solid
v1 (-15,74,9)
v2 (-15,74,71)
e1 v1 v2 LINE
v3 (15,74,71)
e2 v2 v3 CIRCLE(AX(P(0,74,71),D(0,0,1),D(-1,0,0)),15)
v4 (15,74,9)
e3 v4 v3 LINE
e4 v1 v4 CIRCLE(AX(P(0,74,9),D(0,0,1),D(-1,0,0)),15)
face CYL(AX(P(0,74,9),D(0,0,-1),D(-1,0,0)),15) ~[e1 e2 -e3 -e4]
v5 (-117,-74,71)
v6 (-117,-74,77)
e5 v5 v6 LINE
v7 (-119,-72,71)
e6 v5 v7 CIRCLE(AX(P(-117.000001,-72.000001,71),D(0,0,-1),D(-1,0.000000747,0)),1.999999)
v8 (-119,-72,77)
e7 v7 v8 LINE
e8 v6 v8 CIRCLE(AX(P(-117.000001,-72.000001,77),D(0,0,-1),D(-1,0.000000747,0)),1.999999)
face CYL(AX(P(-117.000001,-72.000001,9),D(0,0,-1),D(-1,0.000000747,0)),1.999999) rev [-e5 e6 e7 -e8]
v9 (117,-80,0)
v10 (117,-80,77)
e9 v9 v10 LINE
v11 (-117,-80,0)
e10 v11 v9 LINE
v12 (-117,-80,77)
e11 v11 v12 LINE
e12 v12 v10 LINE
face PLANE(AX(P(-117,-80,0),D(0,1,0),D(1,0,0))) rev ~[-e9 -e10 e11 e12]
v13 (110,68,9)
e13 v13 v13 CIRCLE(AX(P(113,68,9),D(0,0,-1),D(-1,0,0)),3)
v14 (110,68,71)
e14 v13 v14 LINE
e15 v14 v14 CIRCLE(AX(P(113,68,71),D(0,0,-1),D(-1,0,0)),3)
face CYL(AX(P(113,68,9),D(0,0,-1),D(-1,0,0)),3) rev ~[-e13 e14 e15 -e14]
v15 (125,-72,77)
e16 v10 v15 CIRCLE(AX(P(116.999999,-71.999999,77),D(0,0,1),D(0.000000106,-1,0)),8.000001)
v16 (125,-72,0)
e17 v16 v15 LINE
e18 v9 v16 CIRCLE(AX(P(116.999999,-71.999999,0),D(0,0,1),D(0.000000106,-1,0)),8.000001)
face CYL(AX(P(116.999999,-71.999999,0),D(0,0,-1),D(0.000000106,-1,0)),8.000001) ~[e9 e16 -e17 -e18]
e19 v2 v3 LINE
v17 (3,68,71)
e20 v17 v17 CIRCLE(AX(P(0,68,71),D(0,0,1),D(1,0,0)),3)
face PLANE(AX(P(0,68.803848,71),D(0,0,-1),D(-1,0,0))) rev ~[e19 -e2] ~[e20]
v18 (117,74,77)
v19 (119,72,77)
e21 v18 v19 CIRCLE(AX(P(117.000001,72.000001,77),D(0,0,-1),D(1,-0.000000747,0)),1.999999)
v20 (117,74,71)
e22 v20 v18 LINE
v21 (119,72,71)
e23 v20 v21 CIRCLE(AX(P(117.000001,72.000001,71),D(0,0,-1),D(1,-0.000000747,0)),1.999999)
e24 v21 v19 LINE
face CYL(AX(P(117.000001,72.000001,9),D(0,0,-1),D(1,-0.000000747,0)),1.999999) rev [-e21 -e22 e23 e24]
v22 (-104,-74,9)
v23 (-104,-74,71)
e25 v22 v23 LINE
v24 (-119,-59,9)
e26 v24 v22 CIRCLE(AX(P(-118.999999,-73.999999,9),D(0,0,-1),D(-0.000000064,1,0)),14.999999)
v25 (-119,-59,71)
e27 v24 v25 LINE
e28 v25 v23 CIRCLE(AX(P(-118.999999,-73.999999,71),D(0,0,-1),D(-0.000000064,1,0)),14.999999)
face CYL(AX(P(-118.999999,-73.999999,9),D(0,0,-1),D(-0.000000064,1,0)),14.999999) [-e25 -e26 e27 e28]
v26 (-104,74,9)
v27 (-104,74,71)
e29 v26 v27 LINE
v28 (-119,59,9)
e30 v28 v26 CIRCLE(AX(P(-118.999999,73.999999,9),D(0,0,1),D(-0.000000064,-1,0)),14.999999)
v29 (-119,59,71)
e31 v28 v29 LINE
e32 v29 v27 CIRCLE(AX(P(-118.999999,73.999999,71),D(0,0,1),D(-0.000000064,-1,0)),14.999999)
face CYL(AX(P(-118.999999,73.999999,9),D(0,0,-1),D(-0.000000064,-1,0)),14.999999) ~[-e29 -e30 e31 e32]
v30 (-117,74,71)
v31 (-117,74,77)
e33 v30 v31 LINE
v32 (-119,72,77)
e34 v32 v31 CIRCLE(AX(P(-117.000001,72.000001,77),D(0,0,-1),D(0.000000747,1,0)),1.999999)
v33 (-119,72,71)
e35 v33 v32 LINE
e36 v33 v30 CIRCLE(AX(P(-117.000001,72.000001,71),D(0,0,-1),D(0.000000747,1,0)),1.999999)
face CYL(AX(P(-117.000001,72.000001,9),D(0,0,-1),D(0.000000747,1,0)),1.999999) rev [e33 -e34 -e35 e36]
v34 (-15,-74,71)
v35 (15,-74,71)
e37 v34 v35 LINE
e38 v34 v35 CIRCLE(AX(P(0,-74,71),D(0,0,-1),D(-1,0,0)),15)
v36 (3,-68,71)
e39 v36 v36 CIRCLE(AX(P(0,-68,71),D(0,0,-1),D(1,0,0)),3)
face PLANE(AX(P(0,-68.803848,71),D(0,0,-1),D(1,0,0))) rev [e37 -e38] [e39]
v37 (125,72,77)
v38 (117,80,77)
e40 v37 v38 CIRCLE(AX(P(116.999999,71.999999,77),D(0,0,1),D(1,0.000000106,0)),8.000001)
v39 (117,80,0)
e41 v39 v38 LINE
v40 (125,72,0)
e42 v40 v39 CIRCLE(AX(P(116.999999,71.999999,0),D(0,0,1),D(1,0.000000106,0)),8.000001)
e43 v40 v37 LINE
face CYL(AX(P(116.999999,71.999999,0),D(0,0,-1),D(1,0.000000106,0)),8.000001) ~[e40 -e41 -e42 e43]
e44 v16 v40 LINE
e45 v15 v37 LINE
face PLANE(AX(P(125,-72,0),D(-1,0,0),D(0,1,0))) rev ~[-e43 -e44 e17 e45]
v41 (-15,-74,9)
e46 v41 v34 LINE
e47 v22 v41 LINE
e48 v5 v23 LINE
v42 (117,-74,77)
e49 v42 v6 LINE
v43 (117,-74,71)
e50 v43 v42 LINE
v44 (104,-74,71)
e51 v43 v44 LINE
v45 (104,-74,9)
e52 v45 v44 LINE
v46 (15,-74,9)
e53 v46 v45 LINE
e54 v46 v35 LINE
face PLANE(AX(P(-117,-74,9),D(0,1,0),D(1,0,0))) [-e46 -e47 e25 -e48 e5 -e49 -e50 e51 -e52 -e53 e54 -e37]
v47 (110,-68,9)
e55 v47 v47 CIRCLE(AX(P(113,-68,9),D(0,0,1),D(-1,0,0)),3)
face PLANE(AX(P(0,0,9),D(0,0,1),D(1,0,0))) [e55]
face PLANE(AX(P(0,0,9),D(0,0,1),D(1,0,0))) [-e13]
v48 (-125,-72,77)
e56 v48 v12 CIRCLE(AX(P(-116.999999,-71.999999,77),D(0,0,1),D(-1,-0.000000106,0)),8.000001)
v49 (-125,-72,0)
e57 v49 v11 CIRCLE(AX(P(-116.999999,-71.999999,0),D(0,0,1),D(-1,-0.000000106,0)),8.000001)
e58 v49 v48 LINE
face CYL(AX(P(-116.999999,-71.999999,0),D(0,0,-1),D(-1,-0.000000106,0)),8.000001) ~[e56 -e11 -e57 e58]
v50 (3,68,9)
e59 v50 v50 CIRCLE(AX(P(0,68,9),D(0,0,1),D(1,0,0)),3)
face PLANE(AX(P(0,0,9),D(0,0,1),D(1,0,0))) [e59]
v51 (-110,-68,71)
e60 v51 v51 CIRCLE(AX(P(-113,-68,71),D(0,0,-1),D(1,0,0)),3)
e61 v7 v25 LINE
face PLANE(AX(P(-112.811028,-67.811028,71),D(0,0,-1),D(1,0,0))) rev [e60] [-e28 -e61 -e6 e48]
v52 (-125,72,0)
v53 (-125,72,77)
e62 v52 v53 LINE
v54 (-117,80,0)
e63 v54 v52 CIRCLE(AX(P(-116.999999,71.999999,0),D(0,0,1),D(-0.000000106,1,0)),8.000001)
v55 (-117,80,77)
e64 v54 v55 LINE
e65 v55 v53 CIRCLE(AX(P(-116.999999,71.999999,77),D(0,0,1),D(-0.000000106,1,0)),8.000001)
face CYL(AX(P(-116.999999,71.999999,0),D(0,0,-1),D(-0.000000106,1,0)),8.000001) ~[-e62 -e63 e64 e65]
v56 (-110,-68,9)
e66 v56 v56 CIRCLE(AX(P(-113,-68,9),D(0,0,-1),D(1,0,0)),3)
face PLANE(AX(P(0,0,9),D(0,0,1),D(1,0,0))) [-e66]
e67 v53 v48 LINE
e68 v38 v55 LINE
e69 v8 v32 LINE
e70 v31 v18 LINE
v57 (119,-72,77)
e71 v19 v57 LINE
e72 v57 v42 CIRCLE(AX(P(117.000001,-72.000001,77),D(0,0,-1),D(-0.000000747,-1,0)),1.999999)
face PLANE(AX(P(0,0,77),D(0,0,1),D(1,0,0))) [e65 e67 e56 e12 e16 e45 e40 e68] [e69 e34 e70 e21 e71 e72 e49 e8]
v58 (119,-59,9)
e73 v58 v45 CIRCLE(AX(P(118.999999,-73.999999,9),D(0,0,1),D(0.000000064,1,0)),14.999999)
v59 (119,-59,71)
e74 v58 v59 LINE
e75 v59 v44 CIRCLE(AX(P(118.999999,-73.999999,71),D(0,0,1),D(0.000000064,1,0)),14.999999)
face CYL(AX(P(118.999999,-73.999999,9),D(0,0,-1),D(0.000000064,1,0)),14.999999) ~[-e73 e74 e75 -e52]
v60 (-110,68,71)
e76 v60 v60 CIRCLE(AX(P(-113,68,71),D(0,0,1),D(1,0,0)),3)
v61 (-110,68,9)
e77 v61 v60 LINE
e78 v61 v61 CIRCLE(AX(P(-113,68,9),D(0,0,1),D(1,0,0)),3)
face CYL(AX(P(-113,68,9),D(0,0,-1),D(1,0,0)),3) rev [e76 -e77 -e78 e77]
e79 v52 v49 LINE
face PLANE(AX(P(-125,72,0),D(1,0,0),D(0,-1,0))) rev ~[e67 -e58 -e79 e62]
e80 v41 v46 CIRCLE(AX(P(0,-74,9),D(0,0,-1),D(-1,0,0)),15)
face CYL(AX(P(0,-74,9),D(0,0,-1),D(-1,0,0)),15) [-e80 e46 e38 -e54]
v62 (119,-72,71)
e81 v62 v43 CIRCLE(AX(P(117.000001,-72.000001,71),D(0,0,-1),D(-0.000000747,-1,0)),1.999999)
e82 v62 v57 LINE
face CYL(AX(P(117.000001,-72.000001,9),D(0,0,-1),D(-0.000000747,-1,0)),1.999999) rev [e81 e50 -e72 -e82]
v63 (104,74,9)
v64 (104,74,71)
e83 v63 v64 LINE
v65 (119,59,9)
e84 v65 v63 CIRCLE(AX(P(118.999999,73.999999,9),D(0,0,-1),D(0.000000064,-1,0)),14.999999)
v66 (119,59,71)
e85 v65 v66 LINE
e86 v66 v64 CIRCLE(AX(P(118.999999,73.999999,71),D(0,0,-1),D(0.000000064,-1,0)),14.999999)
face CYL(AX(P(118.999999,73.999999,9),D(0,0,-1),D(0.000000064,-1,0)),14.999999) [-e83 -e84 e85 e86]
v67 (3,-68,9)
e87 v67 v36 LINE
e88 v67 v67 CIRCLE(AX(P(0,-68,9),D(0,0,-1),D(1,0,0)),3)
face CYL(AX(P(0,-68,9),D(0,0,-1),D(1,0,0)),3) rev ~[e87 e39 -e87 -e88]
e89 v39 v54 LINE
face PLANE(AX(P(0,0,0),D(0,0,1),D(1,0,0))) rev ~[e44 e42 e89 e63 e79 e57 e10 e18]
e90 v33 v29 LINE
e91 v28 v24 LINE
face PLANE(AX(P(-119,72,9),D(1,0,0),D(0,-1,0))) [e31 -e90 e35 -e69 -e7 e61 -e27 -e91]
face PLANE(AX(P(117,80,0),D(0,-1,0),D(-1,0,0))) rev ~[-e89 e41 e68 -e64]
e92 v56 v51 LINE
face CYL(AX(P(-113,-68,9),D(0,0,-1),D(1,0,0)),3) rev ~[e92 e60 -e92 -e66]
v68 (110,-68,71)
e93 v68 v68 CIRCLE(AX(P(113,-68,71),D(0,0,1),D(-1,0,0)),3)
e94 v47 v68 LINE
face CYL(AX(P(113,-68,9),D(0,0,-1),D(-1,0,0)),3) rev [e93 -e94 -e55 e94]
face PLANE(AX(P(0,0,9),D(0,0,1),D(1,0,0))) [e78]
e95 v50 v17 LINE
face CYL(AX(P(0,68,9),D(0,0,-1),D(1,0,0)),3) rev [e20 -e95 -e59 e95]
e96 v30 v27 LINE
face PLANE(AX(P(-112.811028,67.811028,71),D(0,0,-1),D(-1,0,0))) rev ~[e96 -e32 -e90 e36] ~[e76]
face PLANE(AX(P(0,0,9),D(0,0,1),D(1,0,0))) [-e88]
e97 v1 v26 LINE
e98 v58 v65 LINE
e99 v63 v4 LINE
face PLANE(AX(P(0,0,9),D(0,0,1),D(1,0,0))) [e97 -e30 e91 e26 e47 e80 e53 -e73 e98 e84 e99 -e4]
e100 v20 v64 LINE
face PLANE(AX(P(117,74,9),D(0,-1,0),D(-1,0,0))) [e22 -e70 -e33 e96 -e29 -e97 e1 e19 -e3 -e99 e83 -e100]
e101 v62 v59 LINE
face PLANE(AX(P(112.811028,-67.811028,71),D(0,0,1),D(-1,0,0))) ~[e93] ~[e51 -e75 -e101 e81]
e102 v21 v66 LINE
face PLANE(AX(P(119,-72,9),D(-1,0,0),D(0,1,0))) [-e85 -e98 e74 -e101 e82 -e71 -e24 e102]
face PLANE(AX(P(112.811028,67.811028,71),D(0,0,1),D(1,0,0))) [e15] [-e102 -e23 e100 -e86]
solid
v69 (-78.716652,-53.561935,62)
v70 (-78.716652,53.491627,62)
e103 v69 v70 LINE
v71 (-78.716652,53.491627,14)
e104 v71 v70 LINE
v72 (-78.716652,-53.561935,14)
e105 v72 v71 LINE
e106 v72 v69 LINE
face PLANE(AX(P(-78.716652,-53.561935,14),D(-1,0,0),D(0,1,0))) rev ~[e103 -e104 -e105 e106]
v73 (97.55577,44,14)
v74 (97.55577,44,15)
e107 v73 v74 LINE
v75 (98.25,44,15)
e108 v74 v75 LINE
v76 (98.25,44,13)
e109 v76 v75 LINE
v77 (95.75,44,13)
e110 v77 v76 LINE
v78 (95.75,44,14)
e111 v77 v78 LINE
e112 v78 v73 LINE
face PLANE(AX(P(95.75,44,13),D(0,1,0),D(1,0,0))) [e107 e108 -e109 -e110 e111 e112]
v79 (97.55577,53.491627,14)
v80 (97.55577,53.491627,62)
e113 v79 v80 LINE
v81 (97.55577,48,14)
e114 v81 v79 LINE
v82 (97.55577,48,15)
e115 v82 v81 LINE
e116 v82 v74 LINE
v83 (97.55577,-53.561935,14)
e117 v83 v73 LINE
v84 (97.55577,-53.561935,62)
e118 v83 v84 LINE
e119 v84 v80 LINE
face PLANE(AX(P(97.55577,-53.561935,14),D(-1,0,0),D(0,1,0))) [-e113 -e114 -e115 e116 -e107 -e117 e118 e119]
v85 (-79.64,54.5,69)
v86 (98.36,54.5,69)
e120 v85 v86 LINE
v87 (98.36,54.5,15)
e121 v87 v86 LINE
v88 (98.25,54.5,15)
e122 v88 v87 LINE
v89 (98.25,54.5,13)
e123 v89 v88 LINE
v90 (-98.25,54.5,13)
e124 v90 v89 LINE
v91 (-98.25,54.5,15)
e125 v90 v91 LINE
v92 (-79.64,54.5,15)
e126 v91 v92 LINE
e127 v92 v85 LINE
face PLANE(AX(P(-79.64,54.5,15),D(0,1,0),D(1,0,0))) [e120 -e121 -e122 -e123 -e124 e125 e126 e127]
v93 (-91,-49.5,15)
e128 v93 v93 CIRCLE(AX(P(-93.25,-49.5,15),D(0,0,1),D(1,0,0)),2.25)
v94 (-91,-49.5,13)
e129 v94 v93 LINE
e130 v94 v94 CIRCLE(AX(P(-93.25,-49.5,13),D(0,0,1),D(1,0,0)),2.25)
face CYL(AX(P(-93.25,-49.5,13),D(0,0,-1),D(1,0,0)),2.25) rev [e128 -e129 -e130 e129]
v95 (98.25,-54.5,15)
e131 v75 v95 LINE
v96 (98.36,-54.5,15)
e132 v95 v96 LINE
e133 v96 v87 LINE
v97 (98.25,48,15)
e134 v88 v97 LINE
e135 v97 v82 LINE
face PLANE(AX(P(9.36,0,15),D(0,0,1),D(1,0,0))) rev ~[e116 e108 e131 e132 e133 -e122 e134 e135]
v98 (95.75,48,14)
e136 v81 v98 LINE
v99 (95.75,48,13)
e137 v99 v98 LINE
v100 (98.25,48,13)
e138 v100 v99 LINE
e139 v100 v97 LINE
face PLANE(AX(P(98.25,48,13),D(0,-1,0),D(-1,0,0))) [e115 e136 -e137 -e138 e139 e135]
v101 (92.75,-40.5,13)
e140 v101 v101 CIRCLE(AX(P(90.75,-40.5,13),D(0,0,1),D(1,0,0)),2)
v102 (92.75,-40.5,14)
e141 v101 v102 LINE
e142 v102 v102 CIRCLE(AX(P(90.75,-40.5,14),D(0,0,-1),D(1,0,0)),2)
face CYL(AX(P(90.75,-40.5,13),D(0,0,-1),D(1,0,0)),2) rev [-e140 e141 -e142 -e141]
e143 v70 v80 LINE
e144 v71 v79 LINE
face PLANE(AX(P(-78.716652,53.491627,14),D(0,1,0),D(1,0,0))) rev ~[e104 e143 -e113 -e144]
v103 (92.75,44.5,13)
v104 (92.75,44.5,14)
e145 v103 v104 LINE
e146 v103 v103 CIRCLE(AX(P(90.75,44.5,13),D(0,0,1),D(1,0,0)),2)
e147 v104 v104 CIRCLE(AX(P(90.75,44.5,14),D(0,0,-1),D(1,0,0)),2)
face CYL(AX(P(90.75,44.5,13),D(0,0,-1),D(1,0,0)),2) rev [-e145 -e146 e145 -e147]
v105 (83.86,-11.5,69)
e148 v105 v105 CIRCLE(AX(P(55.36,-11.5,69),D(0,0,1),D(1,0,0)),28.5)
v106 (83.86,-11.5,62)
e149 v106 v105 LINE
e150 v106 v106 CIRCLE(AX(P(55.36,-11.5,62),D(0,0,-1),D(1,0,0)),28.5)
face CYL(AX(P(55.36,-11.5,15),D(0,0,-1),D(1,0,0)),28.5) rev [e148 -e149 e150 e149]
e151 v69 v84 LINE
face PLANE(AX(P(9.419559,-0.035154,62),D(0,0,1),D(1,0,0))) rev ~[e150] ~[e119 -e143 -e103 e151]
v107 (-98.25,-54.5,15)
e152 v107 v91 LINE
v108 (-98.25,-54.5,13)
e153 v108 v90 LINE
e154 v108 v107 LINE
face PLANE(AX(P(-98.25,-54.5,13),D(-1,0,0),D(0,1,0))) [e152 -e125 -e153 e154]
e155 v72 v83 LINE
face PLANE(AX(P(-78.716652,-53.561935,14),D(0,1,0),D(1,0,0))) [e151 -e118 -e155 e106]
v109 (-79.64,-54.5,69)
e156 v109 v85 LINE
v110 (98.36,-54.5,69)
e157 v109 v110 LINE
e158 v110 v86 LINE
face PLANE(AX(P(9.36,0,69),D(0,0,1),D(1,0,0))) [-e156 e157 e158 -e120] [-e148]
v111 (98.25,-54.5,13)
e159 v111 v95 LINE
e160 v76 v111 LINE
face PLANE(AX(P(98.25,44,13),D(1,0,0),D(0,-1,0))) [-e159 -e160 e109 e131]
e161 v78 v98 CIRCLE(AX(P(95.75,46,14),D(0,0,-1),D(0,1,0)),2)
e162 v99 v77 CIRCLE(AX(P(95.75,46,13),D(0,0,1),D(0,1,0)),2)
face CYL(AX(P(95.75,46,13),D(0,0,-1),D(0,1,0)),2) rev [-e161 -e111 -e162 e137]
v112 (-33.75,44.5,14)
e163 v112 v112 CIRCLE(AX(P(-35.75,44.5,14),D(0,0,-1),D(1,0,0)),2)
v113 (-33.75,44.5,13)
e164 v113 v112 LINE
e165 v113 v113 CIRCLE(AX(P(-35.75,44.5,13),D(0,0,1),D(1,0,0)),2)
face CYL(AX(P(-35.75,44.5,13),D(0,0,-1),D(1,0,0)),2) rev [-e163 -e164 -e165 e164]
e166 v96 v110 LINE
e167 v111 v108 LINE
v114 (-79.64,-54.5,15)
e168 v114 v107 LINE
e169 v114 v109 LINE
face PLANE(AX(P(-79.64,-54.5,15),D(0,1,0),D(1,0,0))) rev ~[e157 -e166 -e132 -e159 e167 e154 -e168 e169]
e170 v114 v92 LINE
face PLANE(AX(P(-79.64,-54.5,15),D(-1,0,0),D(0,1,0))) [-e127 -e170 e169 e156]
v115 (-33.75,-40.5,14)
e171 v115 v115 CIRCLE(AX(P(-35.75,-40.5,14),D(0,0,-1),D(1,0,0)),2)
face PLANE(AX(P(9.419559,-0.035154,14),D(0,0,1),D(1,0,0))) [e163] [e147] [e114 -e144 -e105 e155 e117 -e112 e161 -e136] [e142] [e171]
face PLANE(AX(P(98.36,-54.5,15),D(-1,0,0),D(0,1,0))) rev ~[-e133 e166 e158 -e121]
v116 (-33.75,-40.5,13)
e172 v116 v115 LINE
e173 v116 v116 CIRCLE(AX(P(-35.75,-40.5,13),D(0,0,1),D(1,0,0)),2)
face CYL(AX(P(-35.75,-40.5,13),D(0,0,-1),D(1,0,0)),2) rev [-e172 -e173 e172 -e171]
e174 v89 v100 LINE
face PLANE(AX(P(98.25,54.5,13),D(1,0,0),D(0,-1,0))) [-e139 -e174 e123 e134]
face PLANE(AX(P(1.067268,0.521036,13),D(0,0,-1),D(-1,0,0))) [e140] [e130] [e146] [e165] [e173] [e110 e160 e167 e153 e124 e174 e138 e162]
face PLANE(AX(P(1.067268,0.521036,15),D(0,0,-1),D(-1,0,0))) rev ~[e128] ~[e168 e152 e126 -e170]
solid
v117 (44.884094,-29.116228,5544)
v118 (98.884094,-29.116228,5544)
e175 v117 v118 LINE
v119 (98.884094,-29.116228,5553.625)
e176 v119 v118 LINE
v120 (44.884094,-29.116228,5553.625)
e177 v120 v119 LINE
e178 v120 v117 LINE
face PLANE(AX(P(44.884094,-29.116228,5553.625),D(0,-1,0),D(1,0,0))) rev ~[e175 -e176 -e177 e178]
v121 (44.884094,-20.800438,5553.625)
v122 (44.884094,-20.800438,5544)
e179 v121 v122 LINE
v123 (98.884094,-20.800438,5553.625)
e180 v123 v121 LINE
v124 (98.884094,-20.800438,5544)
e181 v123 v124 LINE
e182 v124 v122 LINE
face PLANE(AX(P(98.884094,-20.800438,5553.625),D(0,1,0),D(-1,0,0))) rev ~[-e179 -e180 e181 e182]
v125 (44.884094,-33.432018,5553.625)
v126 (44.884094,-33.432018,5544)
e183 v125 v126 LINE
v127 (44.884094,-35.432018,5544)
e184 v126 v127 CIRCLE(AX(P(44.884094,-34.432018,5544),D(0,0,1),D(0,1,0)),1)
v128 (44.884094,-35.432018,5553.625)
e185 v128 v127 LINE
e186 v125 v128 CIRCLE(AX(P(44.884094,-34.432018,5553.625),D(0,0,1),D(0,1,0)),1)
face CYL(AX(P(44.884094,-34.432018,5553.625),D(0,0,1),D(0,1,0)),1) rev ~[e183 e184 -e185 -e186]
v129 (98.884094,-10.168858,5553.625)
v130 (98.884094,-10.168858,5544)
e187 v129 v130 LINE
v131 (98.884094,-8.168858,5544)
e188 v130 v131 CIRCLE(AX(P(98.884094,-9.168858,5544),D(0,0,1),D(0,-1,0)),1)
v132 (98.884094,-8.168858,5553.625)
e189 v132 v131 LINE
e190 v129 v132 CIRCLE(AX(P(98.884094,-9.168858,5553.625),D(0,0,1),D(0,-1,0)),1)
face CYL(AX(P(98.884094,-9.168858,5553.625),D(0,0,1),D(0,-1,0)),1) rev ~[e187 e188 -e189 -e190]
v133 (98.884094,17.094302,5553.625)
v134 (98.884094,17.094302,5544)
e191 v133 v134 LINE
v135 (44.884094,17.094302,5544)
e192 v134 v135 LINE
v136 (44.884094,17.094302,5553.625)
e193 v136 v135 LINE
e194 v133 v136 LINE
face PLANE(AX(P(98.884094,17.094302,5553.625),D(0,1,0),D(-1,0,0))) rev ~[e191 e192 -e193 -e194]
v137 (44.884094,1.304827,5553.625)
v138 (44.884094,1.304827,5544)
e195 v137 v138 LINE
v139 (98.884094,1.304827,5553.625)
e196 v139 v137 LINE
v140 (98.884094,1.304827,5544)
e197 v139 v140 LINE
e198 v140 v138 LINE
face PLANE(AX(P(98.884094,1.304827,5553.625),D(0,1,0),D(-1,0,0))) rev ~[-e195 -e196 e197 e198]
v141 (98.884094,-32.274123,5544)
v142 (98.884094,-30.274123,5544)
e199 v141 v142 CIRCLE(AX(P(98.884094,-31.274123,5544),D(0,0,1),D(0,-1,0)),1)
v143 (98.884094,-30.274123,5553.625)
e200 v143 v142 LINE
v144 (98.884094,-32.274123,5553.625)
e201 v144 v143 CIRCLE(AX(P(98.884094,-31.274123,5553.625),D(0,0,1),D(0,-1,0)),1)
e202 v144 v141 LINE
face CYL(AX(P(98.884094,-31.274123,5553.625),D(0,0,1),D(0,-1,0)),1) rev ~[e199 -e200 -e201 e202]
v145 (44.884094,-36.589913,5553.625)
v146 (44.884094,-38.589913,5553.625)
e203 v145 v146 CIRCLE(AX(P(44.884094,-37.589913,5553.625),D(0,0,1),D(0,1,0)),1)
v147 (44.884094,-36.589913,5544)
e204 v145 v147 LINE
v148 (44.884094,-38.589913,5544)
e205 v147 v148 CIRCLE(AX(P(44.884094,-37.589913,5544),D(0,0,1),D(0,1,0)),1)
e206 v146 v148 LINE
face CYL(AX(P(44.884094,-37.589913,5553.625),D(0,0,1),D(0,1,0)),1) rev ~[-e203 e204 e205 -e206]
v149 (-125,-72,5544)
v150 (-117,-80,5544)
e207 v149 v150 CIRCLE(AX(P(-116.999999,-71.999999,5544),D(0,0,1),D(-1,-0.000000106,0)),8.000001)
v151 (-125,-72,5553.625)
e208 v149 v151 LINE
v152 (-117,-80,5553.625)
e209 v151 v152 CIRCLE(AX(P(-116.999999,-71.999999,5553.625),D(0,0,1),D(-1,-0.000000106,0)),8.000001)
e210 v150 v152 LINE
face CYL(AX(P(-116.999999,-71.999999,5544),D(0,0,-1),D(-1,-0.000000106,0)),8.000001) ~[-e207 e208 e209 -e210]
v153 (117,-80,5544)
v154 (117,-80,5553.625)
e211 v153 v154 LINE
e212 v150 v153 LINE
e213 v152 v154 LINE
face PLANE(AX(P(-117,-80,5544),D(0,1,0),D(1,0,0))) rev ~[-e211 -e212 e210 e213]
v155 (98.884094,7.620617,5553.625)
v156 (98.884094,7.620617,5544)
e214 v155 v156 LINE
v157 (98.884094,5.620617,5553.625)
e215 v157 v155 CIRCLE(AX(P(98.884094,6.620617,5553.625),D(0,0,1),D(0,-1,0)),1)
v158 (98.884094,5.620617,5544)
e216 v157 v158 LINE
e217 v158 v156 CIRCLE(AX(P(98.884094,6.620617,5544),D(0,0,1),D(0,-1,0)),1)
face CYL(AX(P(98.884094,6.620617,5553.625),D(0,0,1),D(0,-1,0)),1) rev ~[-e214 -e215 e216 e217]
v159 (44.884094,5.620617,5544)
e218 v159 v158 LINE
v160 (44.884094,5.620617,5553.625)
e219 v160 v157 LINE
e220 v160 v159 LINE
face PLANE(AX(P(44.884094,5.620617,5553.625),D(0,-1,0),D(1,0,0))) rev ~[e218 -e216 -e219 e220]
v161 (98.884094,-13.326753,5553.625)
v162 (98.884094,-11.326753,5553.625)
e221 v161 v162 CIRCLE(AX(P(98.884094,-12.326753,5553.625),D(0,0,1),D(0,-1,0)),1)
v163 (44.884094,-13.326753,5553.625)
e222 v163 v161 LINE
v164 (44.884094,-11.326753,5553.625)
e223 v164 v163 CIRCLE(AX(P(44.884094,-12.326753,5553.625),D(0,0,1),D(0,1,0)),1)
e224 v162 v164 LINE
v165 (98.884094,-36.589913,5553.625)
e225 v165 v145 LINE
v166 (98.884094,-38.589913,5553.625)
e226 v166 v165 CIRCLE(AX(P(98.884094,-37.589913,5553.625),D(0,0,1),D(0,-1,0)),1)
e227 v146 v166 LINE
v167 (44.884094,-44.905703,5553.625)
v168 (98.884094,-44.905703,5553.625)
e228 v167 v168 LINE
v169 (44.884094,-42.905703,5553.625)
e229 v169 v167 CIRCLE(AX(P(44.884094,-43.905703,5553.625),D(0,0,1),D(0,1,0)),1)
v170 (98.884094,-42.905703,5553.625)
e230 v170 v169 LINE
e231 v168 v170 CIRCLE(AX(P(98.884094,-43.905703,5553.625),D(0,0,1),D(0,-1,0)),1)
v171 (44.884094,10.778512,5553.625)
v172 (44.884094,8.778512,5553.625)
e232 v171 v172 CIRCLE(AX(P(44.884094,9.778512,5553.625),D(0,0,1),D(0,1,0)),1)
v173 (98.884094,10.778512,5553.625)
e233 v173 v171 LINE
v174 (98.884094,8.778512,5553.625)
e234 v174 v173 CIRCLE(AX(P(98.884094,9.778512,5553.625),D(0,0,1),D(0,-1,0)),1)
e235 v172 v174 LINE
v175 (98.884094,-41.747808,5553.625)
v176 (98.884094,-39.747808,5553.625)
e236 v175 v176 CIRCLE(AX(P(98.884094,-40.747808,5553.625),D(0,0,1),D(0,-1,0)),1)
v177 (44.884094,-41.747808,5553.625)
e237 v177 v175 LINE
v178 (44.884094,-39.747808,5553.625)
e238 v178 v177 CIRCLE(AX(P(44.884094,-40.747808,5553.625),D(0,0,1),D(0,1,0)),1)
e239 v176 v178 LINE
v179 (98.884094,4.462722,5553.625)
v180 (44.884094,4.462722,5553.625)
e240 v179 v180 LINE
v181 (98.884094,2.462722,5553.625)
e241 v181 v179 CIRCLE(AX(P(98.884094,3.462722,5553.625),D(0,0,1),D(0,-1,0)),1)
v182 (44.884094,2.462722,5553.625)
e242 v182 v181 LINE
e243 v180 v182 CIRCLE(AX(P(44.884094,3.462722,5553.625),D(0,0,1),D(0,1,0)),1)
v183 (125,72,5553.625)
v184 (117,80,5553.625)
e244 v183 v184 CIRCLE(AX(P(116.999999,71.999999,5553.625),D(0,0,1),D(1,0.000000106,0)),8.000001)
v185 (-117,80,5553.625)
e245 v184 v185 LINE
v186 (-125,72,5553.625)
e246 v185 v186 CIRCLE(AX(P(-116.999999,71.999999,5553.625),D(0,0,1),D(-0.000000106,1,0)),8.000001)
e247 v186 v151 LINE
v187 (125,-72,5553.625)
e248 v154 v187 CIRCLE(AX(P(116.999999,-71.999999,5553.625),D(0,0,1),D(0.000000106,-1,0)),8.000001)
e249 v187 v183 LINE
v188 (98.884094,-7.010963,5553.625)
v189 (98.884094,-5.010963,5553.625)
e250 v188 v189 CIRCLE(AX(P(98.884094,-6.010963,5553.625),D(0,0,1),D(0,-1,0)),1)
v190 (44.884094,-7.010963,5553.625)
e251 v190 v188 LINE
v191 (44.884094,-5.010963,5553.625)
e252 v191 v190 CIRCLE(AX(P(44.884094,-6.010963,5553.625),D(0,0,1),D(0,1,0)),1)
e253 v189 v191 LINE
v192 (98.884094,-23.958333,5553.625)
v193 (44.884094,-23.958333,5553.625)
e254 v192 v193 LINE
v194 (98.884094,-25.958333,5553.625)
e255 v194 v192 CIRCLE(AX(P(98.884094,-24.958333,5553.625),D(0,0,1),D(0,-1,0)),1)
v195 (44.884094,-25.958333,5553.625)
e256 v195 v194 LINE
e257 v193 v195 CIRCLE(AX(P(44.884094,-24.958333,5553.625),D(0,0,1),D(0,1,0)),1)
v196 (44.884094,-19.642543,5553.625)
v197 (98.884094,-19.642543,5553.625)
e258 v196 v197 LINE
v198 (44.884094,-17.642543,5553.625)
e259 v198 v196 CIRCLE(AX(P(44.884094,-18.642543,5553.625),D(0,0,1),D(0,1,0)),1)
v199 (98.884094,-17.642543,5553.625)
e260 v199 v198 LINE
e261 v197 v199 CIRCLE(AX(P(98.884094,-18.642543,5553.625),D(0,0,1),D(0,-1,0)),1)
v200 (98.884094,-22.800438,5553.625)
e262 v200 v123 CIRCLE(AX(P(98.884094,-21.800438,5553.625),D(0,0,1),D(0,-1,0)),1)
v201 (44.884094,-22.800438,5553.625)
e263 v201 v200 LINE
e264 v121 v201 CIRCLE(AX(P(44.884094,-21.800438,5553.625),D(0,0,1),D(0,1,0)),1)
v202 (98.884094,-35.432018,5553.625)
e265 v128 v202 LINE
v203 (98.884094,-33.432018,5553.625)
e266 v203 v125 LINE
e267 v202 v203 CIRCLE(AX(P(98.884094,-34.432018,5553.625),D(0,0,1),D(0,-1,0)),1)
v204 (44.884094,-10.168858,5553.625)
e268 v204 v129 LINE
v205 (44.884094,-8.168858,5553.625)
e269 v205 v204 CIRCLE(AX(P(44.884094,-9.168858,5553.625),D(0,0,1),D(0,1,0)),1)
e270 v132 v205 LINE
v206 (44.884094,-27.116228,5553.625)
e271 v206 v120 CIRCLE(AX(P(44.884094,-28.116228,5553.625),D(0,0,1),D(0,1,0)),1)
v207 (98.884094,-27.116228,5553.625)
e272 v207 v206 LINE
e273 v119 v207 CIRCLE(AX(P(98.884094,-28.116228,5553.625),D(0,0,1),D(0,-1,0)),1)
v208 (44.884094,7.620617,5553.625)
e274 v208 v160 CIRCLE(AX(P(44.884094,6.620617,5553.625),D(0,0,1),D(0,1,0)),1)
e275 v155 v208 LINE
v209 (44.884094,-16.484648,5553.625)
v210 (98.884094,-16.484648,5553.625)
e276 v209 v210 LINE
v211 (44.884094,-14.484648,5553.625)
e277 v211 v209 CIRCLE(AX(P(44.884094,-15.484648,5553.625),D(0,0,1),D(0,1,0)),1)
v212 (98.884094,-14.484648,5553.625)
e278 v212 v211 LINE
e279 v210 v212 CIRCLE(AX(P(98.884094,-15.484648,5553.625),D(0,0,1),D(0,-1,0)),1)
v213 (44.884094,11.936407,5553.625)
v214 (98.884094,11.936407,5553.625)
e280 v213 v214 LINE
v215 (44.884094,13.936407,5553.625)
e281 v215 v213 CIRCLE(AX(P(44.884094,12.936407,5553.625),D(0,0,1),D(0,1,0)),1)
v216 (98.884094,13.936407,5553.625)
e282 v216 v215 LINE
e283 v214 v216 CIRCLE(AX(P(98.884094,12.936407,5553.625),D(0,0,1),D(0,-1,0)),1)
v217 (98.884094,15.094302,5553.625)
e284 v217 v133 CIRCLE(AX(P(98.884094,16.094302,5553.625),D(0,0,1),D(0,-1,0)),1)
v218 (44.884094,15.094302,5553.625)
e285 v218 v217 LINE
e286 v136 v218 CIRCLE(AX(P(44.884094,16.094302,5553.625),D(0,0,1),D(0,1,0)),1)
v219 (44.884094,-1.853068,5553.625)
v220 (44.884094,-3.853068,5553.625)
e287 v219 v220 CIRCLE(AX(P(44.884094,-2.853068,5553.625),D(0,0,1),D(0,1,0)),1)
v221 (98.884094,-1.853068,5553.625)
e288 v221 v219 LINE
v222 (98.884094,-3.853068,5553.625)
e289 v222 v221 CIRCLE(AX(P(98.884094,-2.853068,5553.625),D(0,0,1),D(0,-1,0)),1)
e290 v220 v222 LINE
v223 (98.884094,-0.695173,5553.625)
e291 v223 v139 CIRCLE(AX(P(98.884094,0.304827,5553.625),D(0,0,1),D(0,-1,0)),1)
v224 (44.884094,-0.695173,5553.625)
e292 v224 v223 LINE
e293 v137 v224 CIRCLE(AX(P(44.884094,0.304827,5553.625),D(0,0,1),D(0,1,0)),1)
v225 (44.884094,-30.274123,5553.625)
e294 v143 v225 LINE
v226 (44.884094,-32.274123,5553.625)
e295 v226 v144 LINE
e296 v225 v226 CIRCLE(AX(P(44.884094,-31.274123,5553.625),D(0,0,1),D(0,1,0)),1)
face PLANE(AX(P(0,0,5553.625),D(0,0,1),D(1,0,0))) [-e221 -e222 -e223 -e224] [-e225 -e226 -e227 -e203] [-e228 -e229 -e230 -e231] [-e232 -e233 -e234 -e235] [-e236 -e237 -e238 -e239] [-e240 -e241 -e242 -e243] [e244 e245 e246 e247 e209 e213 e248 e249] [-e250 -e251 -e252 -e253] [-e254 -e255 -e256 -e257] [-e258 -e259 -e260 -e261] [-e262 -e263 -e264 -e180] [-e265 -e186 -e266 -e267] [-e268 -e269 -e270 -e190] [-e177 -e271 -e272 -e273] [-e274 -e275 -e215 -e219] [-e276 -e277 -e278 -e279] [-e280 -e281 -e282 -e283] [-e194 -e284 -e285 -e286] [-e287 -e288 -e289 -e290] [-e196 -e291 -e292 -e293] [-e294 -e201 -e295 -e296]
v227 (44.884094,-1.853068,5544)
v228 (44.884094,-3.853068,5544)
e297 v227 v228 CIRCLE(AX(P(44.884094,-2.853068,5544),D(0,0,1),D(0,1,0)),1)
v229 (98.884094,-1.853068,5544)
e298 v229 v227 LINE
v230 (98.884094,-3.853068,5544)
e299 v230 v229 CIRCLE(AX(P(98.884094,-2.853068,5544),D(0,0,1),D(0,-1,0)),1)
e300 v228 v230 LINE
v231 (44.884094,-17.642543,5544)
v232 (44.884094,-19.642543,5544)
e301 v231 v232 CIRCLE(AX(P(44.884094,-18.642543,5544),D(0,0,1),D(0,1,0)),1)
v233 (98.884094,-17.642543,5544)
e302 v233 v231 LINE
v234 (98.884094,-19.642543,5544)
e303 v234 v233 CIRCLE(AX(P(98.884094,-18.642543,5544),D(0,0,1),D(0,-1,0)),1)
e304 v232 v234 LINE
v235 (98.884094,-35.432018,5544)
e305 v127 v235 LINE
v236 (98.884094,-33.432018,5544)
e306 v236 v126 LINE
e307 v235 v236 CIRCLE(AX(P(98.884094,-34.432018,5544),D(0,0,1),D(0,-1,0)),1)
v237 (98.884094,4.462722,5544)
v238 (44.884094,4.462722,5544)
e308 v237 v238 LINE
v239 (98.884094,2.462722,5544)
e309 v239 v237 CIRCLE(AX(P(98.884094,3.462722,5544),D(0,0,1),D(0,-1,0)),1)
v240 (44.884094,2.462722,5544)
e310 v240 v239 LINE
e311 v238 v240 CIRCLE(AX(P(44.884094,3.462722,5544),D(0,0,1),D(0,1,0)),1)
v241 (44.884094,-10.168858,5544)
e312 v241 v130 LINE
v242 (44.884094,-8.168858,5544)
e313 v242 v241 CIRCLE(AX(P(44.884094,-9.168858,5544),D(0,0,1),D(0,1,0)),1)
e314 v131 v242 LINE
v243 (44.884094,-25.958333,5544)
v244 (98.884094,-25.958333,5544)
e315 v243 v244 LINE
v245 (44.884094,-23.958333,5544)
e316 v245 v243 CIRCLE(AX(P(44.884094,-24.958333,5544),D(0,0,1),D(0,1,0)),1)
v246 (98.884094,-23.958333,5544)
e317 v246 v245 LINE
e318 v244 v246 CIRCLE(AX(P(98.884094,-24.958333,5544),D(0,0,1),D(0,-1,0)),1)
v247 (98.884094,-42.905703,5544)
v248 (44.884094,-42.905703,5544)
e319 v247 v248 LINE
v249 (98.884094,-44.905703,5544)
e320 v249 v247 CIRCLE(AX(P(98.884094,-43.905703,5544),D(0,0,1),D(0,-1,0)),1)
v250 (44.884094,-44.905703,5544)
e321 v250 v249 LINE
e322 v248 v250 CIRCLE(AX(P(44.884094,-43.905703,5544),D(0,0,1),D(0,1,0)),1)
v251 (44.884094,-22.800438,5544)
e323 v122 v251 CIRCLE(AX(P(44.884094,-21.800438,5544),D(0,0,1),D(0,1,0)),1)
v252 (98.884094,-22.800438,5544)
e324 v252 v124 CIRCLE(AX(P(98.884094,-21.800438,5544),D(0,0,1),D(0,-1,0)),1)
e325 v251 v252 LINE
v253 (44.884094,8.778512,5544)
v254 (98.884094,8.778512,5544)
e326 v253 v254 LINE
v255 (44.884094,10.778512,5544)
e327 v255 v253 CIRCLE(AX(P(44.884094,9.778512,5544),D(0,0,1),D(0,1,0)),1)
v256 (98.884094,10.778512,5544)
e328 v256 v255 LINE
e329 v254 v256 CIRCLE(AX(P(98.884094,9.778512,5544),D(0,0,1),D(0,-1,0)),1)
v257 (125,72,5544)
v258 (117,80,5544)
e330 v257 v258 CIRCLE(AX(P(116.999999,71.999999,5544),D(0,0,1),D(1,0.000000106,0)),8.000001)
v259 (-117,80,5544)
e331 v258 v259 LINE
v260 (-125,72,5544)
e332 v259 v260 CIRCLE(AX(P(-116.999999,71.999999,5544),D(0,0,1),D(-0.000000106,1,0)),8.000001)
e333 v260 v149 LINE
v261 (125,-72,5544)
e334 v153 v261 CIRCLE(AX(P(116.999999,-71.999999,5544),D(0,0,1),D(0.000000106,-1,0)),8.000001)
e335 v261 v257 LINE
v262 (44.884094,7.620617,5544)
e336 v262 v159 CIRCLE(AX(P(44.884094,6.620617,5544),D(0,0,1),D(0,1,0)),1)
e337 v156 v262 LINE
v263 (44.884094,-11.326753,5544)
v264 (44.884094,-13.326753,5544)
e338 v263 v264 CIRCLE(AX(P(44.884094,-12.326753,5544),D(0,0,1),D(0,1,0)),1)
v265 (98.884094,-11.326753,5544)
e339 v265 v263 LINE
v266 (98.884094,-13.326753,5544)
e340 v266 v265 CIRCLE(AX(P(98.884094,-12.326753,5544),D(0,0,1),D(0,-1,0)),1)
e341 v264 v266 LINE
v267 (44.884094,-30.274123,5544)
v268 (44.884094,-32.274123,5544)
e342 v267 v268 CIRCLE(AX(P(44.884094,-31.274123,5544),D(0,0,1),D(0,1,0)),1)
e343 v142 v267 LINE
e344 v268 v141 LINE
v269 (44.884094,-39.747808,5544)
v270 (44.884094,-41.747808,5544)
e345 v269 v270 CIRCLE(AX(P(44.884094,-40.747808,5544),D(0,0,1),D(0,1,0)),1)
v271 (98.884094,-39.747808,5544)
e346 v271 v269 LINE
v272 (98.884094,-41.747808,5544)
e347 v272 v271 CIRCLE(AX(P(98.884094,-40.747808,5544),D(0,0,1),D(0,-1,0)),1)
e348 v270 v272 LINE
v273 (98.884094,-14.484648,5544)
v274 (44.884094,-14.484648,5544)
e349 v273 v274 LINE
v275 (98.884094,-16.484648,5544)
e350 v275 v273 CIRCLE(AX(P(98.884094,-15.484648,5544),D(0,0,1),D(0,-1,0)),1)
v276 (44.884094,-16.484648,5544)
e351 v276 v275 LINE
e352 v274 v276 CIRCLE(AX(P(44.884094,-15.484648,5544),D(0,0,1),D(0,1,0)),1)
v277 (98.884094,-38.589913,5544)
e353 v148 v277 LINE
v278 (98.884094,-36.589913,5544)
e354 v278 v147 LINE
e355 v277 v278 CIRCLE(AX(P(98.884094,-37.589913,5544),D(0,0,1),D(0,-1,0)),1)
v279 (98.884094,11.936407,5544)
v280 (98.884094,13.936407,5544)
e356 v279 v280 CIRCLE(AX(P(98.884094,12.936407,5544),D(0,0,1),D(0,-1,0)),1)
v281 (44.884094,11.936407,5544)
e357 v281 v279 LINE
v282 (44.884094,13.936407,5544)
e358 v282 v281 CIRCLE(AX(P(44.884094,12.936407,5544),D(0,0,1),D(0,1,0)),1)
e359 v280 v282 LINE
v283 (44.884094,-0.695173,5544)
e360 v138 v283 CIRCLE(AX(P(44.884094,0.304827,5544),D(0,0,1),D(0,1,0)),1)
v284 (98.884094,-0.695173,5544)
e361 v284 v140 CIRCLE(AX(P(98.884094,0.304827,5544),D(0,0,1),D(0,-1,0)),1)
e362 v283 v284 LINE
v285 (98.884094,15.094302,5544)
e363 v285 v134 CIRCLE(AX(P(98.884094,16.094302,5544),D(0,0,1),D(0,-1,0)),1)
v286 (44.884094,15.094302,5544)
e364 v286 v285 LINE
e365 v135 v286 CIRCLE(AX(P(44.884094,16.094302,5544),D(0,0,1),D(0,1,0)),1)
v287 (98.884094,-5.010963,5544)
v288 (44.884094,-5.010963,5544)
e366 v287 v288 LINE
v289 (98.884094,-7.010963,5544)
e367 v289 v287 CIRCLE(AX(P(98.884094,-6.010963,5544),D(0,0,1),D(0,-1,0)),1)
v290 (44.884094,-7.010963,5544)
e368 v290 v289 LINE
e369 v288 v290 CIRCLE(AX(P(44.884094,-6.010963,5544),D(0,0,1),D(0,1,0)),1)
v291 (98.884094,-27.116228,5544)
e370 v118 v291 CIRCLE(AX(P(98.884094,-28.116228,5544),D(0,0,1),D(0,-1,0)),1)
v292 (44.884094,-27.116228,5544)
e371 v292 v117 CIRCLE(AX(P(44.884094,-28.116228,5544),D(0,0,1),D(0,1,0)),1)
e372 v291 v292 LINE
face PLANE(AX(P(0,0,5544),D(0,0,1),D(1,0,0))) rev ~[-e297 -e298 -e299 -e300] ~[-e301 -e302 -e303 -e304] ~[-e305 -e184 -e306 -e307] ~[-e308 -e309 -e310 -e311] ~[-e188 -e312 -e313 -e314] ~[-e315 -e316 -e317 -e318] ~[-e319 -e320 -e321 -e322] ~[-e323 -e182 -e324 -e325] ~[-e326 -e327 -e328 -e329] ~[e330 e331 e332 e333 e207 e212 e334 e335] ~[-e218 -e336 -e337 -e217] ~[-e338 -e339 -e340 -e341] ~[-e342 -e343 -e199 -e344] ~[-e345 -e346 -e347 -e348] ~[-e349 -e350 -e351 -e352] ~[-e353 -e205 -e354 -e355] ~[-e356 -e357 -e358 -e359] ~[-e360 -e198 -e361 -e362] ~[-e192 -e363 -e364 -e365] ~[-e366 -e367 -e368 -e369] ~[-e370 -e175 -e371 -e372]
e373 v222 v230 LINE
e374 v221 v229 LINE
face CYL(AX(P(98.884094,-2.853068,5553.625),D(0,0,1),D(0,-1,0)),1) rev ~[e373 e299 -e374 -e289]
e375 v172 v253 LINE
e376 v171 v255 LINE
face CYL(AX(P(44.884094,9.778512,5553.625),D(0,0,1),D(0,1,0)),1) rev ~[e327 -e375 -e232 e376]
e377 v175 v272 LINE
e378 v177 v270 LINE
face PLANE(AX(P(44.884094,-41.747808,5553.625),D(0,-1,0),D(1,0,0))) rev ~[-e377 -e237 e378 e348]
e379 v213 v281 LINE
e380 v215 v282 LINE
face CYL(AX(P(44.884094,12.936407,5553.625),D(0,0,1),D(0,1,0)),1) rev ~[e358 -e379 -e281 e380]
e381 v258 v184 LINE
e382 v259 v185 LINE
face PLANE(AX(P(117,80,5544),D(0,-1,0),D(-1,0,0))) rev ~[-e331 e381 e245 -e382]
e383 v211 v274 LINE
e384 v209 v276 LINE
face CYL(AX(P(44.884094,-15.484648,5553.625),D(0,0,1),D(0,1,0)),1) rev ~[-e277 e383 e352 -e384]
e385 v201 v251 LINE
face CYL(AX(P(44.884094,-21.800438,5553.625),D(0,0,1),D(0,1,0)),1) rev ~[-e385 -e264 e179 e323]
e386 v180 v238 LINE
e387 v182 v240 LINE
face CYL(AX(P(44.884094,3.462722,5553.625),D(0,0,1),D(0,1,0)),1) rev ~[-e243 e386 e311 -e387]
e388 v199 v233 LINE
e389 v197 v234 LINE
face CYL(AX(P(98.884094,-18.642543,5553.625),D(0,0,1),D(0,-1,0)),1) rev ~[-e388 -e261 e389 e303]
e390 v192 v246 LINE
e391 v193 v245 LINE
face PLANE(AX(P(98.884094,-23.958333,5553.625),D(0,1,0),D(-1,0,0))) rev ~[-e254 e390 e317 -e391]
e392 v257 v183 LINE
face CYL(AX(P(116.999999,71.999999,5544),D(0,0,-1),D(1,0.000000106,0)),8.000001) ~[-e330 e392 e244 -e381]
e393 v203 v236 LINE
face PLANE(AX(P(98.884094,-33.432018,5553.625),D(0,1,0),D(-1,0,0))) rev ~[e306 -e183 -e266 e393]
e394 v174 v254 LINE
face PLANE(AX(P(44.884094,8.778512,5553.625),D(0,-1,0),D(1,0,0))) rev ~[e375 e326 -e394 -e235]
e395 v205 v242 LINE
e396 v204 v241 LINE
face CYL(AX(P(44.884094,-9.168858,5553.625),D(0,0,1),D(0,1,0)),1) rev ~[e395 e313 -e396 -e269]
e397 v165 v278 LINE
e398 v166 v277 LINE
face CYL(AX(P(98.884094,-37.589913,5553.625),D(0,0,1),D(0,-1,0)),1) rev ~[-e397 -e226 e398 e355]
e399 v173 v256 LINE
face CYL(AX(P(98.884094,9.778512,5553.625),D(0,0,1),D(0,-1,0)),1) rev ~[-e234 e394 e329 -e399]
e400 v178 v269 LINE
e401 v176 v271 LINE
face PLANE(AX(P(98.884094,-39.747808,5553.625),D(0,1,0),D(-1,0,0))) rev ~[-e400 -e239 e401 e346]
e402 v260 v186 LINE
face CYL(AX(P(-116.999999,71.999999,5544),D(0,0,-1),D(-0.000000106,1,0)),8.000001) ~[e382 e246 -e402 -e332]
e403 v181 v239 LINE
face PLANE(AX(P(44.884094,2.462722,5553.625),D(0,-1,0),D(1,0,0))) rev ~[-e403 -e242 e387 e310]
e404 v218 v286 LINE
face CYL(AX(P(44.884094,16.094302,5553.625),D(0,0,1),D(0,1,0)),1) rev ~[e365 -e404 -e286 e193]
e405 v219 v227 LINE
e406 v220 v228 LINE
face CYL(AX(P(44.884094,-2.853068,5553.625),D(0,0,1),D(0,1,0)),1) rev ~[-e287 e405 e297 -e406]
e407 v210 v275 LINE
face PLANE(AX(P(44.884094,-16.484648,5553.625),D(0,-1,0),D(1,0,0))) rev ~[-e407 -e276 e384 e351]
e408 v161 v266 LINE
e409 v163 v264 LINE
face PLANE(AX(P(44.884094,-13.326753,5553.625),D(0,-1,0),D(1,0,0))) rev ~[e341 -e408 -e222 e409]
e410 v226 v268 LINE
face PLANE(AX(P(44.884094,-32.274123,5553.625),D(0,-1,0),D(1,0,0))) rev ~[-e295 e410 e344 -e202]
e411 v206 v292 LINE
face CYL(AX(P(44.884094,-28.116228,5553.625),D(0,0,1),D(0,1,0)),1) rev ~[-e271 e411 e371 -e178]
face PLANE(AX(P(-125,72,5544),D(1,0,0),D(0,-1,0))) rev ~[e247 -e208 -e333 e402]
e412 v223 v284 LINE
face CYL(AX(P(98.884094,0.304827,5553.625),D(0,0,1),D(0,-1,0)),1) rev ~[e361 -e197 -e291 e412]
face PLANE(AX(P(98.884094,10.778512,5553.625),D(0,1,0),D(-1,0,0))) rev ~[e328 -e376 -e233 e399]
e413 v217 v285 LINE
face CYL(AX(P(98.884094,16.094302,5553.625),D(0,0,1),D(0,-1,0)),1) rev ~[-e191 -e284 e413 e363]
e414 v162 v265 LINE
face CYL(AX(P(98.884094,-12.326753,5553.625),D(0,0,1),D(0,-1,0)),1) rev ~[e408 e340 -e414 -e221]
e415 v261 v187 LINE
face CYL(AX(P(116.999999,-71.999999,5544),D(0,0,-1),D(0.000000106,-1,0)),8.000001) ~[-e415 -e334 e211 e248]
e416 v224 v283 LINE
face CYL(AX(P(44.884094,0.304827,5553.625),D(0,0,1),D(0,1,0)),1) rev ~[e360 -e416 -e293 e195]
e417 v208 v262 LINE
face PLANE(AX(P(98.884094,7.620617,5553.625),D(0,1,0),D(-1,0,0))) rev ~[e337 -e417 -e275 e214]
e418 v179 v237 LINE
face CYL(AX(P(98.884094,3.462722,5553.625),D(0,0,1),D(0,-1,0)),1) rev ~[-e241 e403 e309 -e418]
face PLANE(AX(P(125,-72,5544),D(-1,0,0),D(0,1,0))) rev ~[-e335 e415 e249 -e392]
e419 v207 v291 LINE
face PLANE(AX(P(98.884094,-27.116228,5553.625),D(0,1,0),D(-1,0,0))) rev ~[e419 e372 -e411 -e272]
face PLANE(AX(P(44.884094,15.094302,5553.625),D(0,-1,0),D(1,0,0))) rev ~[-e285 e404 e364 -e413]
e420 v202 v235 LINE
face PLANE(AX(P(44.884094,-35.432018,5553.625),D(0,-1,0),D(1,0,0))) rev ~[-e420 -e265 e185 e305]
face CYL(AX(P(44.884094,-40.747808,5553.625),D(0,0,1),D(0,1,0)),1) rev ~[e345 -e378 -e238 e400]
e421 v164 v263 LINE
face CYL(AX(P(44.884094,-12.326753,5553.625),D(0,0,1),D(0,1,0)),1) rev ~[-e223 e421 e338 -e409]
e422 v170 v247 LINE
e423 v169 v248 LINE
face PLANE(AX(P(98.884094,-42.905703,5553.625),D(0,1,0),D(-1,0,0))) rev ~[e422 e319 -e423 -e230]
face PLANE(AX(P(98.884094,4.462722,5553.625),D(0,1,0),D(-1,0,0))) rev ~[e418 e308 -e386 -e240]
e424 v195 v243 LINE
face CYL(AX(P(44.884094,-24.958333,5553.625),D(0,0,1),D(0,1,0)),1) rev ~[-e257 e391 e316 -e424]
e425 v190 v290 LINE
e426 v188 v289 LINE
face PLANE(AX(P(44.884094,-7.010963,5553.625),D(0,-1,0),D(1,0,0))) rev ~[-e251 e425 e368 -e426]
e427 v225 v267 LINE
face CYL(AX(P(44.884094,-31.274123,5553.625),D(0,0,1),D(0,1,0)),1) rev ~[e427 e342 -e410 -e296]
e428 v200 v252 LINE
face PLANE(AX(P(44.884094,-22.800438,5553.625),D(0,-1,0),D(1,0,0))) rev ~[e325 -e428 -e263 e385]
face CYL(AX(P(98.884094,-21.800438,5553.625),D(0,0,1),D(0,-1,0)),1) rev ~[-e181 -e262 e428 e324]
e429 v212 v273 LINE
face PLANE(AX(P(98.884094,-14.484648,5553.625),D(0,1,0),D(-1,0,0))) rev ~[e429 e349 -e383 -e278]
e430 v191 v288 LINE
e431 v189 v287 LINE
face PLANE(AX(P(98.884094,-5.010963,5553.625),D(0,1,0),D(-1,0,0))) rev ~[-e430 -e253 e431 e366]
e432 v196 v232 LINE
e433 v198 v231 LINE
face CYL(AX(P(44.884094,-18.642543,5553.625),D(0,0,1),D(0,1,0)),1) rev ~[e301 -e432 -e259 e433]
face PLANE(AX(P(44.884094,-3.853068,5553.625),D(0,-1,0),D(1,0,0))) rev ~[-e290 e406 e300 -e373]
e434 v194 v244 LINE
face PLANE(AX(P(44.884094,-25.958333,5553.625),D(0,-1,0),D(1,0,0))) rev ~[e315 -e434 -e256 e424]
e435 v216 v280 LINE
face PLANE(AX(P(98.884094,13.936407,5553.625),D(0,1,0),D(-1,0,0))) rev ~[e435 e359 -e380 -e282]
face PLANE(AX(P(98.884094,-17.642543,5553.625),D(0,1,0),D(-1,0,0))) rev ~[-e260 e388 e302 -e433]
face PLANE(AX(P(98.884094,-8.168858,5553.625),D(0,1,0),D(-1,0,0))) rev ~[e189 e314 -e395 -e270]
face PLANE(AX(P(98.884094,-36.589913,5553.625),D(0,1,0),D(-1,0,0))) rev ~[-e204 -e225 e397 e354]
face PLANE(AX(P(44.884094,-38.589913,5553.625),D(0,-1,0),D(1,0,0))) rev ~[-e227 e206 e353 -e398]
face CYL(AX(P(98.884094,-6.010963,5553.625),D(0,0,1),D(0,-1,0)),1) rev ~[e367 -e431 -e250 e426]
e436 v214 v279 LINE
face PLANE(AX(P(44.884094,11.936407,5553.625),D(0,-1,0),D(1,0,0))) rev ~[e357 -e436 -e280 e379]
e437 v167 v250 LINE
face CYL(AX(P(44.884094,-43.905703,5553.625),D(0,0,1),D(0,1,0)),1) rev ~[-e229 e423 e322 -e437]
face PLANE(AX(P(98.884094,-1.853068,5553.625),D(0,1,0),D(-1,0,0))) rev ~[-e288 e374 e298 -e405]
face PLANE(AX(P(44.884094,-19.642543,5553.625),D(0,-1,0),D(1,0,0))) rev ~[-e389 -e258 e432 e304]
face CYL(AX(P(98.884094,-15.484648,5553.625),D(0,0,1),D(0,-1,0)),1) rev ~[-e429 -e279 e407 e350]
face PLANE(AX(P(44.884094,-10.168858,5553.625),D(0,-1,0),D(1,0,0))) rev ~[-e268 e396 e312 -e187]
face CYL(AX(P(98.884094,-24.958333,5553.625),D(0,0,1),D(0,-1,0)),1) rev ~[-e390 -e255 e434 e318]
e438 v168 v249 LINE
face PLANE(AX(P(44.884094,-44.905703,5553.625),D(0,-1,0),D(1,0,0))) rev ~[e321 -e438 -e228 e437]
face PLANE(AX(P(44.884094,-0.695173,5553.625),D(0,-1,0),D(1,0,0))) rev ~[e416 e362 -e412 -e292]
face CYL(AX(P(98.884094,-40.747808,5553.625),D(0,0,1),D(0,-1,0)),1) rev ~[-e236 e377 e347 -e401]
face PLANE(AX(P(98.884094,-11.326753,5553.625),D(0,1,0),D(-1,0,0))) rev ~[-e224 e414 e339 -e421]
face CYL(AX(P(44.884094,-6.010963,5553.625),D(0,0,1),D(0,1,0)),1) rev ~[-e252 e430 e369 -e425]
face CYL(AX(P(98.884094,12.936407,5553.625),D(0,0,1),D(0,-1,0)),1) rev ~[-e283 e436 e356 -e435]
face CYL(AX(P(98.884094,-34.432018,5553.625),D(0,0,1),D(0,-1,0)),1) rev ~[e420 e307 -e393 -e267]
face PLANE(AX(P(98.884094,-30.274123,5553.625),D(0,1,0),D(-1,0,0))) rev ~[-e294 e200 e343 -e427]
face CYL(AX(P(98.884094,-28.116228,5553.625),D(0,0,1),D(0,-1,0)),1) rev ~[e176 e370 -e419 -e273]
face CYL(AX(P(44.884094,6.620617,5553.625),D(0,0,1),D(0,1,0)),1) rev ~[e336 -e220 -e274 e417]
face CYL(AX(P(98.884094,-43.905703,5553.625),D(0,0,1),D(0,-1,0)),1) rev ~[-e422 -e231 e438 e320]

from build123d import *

# Parameters (mm, degrees)
PAD_DEPTH               = 77
POCKET_DEPTH            = 68.001
SKETCH002_R             = 3
PAD001_DEPTH            = 62
SKETCH002_MIRRORED_2_R  = 3
PAD001_MIRRORED_2_DEPTH = 62
SKETCH004_R             = 3
PAD002_DEPTH            = 62
SKETCH005_R             = 2.25
SKETCH005_R_2           = 2
PAD003_DEPTH            = 2
SKETCH007_W             = 178
SKETCH007_H             = 109
SKETCH007_R             = 28.5
PAD005_DEPTH            = 54
SKETCH008_W             = 176.272423
SKETCH008_H             = 107.053562
POCKET001_DEPTH         = 48
PAD004_DEPTH            = 9.625
POCKET002_DEPTH         = 9.625
LINEARPATTERN_COUNT     = 20
LINEARPATTERN_PITCH     = 3.157895


with BuildPart() as body:
    # Sketch → Pad (new body)
    with BuildSketch(Plane.XY):
        with BuildLine():
            Line((125, -72), (125, 72))
            ThreePointArc((125, 72), (122.656854, 77.656854), (117, 80))
            Line((117, 80), (-117, 80))
            ThreePointArc((-117, 80), (-122.656854, 77.656854), (-125, 72))
            Line((-125, 72), (-125, -72))
            ThreePointArc((-125, -72), (-122.656854, -77.656854), (-117, -80))
            Line((-117, -80), (117, -80))
            ThreePointArc((117, -80), (122.656854, -77.656854), (125, -72))
        make_face()
    extrude(amount=PAD_DEPTH)

    # Sketch001 → Pocket (cut, through all)
    with BuildSketch(Plane.XY.offset(9)):
        with BuildLine():
            Line((119, -72), (119, 72))
            ThreePointArc((119, 72), (118.414214, 73.414214), (117, 74))
            Line((117, 74), (-117, 74))
            ThreePointArc((-117, 74), (-118.414214, 73.414214), (-119, 72))
            Line((-119, 72), (-119, -72))
            ThreePointArc((-119, -72), (-118.414214, -73.414214), (-117, -74))
            Line((-117, -74), (117, -74))
            ThreePointArc((117, -74), (118.414214, -73.414214), (119, -72))
        make_face()
    extrude(amount=POCKET_DEPTH, mode=Mode.SUBTRACT)

    # Sketch002 → Pad001 (join)
    with BuildSketch(Plane.XY.offset(9)):
        with BuildLine():
            Line((-119, 74), (-104, 74))
            ThreePointArc((-119, 59), (-108.393398, 63.393398), (-104, 74))
            Line((-119, 74), (-119, 59))
        make_face()
        with Locations((-113, 68)):
            Circle(SKETCH002_R, mode=Mode.SUBTRACT)
    pad001 = extrude(amount=PAD001_DEPTH)

    # Sketch002 Mirrored 2 → Pad001 Mirrored 2 (add)
    with BuildSketch(Plane(origin=(0, 0, 9), x_dir=(-1, 0, 0), z_dir=(0, 0, -1))):
        with BuildLine():
            Line((-119, 74), (-104, 74))
            ThreePointArc((-119, 59), (-108.393398, 63.393398), (-104, 74))
            Line((-119, 74), (-119, 59))
        make_face()
        with Locations((-113, 68)):
            Circle(SKETCH002_MIRRORED_2_R, mode=Mode.SUBTRACT)
    pad001_mirrored_2 = extrude(amount=-PAD001_MIRRORED_2_DEPTH)

    # Mirrored001: Pad001, Pad001 Mirrored 2 across Sketch002 H_Axis
    add(pad001.mirror(Plane(origin=(0, 0, 9), x_dir=(0, 0, 1), z_dir=(0, 1, 0))))
    add(pad001_mirrored_2.mirror(Plane(origin=(0, 0, 9), x_dir=(0, 0, 1), z_dir=(0, 1, 0))))

    # Sketch004 → Pad002 (join)
    with BuildSketch(Plane.XY.offset(9)):
        with BuildLine():
            Line((-15, 74), (15, 74))
            ThreePointArc((-15, 74), (0, 59), (15, 74))
        make_face()
        with Locations((0, 68)):
            Circle(SKETCH004_R, mode=Mode.SUBTRACT)
    pad002 = extrude(amount=PAD002_DEPTH)

    # Mirrored002: Pad002 across XZ
    add(pad002.mirror(Plane.XZ))


with BuildPart() as body001:
    # Sketch005 → Pad003 (new body)
    with BuildSketch(Plane.XY.offset(13)):
        with BuildLine():
            Line((-98.25, -54.5), (-98.25, 54.5))
            Line((-98.25, 54.5), (98.25, 54.5))
            Line((98.25, 54.5), (98.25, 48))
            Line((98.25, 48), (95.75, 48))
            ThreePointArc((95.75, 48), (93.75, 46), (95.75, 44))
            Line((95.75, 44), (98.25, 44))
            Line((98.25, 44), (98.25, -54.5))
            Line((98.25, -54.5), (-98.25, -54.5))
        make_face()
        with Locations((-93.25, -49.5)):
            Circle(SKETCH005_R, mode=Mode.SUBTRACT)
        with Locations((-35.75, 44.5)):
            Circle(SKETCH005_R_2, mode=Mode.SUBTRACT)
        with Locations((90.75, 44.5)):
            Circle(SKETCH005_R_2, mode=Mode.SUBTRACT)
        with Locations((90.75, -40.5)):
            Circle(SKETCH005_R_2, mode=Mode.SUBTRACT)
        with Locations((-35.75, -40.5)):
            Circle(SKETCH005_R_2, mode=Mode.SUBTRACT)
    extrude(amount=PAD003_DEPTH)

    # Sketch007 (on Face15 of Pad003) → Pad005 (join)
    with BuildSketch(Plane.XY.offset(15)):
        with Locations((9.36, 0)):
            Rectangle(SKETCH007_W, SKETCH007_H)
        with Locations((55.36, -11.5)):
            Circle(SKETCH007_R, mode=Mode.SUBTRACT)
    extrude(amount=PAD005_DEPTH)

    # Sketch008 (on Face5 of Pad005) → Pocket001 (cut)
    with BuildSketch(Plane.XY.offset(14)):
        with Locations((9.419559, -0.035154)):
            Rectangle(SKETCH008_W, SKETCH008_H)
    extrude(amount=POCKET001_DEPTH, mode=Mode.SUBTRACT)


with BuildPart() as body001_1:
    # Body001 placement: moved
    add(body001.part.moved(Location((16, 0, 0))))


with BuildPart() as body002:
    # Sketch006 (on Sketch) → Pad004 (new body)
    with BuildSketch(Plane.XY.offset(5544)):
        with BuildLine():
            Line((125, -72), (125, 72))
            ThreePointArc((125, 72), (122.656854, 77.656854), (117, 80))
            Line((117, 80), (-117, 80))
            ThreePointArc((-117, 80), (-122.656854, 77.656854), (-125, 72))
            Line((-125, 72), (-125, -72))
            ThreePointArc((-125, -72), (-122.656854, -77.656854), (-117, -80))
            Line((-117, -80), (117, -80))
            ThreePointArc((117, -80), (122.656854, -77.656854), (125, -72))
        make_face()
    extrude(amount=PAD004_DEPTH)

    # Sketch009 (on Face10 of Pad004) → Pocket002 (cut)
    with BuildSketch(Plane.XY.offset(5553.625)):
        with BuildLine():
            ThreePointArc((44.884094, 17.094302), (43.884094, 16.094302), (44.884094, 15.094302))
            Line((44.884094, 15.094302), (98.884094, 15.094302))
            ThreePointArc((98.884094, 15.094302), (99.884094, 16.094302), (98.884094, 17.094302))
            Line((98.884094, 17.094302), (44.884094, 17.094302))
        make_face()
    pocket002 = extrude(amount=-POCKET002_DEPTH, mode=Mode.SUBTRACT)

    # LinearPattern: Pocket002 ×20
    with Locations(*[(0, -i * LINEARPATTERN_PITCH, 0) for i in range(1, LINEARPATTERN_COUNT)]):
        add(pocket002, mode=Mode.SUBTRACT)


solid = Compound([body.part, body001_1.part, body002.part])
